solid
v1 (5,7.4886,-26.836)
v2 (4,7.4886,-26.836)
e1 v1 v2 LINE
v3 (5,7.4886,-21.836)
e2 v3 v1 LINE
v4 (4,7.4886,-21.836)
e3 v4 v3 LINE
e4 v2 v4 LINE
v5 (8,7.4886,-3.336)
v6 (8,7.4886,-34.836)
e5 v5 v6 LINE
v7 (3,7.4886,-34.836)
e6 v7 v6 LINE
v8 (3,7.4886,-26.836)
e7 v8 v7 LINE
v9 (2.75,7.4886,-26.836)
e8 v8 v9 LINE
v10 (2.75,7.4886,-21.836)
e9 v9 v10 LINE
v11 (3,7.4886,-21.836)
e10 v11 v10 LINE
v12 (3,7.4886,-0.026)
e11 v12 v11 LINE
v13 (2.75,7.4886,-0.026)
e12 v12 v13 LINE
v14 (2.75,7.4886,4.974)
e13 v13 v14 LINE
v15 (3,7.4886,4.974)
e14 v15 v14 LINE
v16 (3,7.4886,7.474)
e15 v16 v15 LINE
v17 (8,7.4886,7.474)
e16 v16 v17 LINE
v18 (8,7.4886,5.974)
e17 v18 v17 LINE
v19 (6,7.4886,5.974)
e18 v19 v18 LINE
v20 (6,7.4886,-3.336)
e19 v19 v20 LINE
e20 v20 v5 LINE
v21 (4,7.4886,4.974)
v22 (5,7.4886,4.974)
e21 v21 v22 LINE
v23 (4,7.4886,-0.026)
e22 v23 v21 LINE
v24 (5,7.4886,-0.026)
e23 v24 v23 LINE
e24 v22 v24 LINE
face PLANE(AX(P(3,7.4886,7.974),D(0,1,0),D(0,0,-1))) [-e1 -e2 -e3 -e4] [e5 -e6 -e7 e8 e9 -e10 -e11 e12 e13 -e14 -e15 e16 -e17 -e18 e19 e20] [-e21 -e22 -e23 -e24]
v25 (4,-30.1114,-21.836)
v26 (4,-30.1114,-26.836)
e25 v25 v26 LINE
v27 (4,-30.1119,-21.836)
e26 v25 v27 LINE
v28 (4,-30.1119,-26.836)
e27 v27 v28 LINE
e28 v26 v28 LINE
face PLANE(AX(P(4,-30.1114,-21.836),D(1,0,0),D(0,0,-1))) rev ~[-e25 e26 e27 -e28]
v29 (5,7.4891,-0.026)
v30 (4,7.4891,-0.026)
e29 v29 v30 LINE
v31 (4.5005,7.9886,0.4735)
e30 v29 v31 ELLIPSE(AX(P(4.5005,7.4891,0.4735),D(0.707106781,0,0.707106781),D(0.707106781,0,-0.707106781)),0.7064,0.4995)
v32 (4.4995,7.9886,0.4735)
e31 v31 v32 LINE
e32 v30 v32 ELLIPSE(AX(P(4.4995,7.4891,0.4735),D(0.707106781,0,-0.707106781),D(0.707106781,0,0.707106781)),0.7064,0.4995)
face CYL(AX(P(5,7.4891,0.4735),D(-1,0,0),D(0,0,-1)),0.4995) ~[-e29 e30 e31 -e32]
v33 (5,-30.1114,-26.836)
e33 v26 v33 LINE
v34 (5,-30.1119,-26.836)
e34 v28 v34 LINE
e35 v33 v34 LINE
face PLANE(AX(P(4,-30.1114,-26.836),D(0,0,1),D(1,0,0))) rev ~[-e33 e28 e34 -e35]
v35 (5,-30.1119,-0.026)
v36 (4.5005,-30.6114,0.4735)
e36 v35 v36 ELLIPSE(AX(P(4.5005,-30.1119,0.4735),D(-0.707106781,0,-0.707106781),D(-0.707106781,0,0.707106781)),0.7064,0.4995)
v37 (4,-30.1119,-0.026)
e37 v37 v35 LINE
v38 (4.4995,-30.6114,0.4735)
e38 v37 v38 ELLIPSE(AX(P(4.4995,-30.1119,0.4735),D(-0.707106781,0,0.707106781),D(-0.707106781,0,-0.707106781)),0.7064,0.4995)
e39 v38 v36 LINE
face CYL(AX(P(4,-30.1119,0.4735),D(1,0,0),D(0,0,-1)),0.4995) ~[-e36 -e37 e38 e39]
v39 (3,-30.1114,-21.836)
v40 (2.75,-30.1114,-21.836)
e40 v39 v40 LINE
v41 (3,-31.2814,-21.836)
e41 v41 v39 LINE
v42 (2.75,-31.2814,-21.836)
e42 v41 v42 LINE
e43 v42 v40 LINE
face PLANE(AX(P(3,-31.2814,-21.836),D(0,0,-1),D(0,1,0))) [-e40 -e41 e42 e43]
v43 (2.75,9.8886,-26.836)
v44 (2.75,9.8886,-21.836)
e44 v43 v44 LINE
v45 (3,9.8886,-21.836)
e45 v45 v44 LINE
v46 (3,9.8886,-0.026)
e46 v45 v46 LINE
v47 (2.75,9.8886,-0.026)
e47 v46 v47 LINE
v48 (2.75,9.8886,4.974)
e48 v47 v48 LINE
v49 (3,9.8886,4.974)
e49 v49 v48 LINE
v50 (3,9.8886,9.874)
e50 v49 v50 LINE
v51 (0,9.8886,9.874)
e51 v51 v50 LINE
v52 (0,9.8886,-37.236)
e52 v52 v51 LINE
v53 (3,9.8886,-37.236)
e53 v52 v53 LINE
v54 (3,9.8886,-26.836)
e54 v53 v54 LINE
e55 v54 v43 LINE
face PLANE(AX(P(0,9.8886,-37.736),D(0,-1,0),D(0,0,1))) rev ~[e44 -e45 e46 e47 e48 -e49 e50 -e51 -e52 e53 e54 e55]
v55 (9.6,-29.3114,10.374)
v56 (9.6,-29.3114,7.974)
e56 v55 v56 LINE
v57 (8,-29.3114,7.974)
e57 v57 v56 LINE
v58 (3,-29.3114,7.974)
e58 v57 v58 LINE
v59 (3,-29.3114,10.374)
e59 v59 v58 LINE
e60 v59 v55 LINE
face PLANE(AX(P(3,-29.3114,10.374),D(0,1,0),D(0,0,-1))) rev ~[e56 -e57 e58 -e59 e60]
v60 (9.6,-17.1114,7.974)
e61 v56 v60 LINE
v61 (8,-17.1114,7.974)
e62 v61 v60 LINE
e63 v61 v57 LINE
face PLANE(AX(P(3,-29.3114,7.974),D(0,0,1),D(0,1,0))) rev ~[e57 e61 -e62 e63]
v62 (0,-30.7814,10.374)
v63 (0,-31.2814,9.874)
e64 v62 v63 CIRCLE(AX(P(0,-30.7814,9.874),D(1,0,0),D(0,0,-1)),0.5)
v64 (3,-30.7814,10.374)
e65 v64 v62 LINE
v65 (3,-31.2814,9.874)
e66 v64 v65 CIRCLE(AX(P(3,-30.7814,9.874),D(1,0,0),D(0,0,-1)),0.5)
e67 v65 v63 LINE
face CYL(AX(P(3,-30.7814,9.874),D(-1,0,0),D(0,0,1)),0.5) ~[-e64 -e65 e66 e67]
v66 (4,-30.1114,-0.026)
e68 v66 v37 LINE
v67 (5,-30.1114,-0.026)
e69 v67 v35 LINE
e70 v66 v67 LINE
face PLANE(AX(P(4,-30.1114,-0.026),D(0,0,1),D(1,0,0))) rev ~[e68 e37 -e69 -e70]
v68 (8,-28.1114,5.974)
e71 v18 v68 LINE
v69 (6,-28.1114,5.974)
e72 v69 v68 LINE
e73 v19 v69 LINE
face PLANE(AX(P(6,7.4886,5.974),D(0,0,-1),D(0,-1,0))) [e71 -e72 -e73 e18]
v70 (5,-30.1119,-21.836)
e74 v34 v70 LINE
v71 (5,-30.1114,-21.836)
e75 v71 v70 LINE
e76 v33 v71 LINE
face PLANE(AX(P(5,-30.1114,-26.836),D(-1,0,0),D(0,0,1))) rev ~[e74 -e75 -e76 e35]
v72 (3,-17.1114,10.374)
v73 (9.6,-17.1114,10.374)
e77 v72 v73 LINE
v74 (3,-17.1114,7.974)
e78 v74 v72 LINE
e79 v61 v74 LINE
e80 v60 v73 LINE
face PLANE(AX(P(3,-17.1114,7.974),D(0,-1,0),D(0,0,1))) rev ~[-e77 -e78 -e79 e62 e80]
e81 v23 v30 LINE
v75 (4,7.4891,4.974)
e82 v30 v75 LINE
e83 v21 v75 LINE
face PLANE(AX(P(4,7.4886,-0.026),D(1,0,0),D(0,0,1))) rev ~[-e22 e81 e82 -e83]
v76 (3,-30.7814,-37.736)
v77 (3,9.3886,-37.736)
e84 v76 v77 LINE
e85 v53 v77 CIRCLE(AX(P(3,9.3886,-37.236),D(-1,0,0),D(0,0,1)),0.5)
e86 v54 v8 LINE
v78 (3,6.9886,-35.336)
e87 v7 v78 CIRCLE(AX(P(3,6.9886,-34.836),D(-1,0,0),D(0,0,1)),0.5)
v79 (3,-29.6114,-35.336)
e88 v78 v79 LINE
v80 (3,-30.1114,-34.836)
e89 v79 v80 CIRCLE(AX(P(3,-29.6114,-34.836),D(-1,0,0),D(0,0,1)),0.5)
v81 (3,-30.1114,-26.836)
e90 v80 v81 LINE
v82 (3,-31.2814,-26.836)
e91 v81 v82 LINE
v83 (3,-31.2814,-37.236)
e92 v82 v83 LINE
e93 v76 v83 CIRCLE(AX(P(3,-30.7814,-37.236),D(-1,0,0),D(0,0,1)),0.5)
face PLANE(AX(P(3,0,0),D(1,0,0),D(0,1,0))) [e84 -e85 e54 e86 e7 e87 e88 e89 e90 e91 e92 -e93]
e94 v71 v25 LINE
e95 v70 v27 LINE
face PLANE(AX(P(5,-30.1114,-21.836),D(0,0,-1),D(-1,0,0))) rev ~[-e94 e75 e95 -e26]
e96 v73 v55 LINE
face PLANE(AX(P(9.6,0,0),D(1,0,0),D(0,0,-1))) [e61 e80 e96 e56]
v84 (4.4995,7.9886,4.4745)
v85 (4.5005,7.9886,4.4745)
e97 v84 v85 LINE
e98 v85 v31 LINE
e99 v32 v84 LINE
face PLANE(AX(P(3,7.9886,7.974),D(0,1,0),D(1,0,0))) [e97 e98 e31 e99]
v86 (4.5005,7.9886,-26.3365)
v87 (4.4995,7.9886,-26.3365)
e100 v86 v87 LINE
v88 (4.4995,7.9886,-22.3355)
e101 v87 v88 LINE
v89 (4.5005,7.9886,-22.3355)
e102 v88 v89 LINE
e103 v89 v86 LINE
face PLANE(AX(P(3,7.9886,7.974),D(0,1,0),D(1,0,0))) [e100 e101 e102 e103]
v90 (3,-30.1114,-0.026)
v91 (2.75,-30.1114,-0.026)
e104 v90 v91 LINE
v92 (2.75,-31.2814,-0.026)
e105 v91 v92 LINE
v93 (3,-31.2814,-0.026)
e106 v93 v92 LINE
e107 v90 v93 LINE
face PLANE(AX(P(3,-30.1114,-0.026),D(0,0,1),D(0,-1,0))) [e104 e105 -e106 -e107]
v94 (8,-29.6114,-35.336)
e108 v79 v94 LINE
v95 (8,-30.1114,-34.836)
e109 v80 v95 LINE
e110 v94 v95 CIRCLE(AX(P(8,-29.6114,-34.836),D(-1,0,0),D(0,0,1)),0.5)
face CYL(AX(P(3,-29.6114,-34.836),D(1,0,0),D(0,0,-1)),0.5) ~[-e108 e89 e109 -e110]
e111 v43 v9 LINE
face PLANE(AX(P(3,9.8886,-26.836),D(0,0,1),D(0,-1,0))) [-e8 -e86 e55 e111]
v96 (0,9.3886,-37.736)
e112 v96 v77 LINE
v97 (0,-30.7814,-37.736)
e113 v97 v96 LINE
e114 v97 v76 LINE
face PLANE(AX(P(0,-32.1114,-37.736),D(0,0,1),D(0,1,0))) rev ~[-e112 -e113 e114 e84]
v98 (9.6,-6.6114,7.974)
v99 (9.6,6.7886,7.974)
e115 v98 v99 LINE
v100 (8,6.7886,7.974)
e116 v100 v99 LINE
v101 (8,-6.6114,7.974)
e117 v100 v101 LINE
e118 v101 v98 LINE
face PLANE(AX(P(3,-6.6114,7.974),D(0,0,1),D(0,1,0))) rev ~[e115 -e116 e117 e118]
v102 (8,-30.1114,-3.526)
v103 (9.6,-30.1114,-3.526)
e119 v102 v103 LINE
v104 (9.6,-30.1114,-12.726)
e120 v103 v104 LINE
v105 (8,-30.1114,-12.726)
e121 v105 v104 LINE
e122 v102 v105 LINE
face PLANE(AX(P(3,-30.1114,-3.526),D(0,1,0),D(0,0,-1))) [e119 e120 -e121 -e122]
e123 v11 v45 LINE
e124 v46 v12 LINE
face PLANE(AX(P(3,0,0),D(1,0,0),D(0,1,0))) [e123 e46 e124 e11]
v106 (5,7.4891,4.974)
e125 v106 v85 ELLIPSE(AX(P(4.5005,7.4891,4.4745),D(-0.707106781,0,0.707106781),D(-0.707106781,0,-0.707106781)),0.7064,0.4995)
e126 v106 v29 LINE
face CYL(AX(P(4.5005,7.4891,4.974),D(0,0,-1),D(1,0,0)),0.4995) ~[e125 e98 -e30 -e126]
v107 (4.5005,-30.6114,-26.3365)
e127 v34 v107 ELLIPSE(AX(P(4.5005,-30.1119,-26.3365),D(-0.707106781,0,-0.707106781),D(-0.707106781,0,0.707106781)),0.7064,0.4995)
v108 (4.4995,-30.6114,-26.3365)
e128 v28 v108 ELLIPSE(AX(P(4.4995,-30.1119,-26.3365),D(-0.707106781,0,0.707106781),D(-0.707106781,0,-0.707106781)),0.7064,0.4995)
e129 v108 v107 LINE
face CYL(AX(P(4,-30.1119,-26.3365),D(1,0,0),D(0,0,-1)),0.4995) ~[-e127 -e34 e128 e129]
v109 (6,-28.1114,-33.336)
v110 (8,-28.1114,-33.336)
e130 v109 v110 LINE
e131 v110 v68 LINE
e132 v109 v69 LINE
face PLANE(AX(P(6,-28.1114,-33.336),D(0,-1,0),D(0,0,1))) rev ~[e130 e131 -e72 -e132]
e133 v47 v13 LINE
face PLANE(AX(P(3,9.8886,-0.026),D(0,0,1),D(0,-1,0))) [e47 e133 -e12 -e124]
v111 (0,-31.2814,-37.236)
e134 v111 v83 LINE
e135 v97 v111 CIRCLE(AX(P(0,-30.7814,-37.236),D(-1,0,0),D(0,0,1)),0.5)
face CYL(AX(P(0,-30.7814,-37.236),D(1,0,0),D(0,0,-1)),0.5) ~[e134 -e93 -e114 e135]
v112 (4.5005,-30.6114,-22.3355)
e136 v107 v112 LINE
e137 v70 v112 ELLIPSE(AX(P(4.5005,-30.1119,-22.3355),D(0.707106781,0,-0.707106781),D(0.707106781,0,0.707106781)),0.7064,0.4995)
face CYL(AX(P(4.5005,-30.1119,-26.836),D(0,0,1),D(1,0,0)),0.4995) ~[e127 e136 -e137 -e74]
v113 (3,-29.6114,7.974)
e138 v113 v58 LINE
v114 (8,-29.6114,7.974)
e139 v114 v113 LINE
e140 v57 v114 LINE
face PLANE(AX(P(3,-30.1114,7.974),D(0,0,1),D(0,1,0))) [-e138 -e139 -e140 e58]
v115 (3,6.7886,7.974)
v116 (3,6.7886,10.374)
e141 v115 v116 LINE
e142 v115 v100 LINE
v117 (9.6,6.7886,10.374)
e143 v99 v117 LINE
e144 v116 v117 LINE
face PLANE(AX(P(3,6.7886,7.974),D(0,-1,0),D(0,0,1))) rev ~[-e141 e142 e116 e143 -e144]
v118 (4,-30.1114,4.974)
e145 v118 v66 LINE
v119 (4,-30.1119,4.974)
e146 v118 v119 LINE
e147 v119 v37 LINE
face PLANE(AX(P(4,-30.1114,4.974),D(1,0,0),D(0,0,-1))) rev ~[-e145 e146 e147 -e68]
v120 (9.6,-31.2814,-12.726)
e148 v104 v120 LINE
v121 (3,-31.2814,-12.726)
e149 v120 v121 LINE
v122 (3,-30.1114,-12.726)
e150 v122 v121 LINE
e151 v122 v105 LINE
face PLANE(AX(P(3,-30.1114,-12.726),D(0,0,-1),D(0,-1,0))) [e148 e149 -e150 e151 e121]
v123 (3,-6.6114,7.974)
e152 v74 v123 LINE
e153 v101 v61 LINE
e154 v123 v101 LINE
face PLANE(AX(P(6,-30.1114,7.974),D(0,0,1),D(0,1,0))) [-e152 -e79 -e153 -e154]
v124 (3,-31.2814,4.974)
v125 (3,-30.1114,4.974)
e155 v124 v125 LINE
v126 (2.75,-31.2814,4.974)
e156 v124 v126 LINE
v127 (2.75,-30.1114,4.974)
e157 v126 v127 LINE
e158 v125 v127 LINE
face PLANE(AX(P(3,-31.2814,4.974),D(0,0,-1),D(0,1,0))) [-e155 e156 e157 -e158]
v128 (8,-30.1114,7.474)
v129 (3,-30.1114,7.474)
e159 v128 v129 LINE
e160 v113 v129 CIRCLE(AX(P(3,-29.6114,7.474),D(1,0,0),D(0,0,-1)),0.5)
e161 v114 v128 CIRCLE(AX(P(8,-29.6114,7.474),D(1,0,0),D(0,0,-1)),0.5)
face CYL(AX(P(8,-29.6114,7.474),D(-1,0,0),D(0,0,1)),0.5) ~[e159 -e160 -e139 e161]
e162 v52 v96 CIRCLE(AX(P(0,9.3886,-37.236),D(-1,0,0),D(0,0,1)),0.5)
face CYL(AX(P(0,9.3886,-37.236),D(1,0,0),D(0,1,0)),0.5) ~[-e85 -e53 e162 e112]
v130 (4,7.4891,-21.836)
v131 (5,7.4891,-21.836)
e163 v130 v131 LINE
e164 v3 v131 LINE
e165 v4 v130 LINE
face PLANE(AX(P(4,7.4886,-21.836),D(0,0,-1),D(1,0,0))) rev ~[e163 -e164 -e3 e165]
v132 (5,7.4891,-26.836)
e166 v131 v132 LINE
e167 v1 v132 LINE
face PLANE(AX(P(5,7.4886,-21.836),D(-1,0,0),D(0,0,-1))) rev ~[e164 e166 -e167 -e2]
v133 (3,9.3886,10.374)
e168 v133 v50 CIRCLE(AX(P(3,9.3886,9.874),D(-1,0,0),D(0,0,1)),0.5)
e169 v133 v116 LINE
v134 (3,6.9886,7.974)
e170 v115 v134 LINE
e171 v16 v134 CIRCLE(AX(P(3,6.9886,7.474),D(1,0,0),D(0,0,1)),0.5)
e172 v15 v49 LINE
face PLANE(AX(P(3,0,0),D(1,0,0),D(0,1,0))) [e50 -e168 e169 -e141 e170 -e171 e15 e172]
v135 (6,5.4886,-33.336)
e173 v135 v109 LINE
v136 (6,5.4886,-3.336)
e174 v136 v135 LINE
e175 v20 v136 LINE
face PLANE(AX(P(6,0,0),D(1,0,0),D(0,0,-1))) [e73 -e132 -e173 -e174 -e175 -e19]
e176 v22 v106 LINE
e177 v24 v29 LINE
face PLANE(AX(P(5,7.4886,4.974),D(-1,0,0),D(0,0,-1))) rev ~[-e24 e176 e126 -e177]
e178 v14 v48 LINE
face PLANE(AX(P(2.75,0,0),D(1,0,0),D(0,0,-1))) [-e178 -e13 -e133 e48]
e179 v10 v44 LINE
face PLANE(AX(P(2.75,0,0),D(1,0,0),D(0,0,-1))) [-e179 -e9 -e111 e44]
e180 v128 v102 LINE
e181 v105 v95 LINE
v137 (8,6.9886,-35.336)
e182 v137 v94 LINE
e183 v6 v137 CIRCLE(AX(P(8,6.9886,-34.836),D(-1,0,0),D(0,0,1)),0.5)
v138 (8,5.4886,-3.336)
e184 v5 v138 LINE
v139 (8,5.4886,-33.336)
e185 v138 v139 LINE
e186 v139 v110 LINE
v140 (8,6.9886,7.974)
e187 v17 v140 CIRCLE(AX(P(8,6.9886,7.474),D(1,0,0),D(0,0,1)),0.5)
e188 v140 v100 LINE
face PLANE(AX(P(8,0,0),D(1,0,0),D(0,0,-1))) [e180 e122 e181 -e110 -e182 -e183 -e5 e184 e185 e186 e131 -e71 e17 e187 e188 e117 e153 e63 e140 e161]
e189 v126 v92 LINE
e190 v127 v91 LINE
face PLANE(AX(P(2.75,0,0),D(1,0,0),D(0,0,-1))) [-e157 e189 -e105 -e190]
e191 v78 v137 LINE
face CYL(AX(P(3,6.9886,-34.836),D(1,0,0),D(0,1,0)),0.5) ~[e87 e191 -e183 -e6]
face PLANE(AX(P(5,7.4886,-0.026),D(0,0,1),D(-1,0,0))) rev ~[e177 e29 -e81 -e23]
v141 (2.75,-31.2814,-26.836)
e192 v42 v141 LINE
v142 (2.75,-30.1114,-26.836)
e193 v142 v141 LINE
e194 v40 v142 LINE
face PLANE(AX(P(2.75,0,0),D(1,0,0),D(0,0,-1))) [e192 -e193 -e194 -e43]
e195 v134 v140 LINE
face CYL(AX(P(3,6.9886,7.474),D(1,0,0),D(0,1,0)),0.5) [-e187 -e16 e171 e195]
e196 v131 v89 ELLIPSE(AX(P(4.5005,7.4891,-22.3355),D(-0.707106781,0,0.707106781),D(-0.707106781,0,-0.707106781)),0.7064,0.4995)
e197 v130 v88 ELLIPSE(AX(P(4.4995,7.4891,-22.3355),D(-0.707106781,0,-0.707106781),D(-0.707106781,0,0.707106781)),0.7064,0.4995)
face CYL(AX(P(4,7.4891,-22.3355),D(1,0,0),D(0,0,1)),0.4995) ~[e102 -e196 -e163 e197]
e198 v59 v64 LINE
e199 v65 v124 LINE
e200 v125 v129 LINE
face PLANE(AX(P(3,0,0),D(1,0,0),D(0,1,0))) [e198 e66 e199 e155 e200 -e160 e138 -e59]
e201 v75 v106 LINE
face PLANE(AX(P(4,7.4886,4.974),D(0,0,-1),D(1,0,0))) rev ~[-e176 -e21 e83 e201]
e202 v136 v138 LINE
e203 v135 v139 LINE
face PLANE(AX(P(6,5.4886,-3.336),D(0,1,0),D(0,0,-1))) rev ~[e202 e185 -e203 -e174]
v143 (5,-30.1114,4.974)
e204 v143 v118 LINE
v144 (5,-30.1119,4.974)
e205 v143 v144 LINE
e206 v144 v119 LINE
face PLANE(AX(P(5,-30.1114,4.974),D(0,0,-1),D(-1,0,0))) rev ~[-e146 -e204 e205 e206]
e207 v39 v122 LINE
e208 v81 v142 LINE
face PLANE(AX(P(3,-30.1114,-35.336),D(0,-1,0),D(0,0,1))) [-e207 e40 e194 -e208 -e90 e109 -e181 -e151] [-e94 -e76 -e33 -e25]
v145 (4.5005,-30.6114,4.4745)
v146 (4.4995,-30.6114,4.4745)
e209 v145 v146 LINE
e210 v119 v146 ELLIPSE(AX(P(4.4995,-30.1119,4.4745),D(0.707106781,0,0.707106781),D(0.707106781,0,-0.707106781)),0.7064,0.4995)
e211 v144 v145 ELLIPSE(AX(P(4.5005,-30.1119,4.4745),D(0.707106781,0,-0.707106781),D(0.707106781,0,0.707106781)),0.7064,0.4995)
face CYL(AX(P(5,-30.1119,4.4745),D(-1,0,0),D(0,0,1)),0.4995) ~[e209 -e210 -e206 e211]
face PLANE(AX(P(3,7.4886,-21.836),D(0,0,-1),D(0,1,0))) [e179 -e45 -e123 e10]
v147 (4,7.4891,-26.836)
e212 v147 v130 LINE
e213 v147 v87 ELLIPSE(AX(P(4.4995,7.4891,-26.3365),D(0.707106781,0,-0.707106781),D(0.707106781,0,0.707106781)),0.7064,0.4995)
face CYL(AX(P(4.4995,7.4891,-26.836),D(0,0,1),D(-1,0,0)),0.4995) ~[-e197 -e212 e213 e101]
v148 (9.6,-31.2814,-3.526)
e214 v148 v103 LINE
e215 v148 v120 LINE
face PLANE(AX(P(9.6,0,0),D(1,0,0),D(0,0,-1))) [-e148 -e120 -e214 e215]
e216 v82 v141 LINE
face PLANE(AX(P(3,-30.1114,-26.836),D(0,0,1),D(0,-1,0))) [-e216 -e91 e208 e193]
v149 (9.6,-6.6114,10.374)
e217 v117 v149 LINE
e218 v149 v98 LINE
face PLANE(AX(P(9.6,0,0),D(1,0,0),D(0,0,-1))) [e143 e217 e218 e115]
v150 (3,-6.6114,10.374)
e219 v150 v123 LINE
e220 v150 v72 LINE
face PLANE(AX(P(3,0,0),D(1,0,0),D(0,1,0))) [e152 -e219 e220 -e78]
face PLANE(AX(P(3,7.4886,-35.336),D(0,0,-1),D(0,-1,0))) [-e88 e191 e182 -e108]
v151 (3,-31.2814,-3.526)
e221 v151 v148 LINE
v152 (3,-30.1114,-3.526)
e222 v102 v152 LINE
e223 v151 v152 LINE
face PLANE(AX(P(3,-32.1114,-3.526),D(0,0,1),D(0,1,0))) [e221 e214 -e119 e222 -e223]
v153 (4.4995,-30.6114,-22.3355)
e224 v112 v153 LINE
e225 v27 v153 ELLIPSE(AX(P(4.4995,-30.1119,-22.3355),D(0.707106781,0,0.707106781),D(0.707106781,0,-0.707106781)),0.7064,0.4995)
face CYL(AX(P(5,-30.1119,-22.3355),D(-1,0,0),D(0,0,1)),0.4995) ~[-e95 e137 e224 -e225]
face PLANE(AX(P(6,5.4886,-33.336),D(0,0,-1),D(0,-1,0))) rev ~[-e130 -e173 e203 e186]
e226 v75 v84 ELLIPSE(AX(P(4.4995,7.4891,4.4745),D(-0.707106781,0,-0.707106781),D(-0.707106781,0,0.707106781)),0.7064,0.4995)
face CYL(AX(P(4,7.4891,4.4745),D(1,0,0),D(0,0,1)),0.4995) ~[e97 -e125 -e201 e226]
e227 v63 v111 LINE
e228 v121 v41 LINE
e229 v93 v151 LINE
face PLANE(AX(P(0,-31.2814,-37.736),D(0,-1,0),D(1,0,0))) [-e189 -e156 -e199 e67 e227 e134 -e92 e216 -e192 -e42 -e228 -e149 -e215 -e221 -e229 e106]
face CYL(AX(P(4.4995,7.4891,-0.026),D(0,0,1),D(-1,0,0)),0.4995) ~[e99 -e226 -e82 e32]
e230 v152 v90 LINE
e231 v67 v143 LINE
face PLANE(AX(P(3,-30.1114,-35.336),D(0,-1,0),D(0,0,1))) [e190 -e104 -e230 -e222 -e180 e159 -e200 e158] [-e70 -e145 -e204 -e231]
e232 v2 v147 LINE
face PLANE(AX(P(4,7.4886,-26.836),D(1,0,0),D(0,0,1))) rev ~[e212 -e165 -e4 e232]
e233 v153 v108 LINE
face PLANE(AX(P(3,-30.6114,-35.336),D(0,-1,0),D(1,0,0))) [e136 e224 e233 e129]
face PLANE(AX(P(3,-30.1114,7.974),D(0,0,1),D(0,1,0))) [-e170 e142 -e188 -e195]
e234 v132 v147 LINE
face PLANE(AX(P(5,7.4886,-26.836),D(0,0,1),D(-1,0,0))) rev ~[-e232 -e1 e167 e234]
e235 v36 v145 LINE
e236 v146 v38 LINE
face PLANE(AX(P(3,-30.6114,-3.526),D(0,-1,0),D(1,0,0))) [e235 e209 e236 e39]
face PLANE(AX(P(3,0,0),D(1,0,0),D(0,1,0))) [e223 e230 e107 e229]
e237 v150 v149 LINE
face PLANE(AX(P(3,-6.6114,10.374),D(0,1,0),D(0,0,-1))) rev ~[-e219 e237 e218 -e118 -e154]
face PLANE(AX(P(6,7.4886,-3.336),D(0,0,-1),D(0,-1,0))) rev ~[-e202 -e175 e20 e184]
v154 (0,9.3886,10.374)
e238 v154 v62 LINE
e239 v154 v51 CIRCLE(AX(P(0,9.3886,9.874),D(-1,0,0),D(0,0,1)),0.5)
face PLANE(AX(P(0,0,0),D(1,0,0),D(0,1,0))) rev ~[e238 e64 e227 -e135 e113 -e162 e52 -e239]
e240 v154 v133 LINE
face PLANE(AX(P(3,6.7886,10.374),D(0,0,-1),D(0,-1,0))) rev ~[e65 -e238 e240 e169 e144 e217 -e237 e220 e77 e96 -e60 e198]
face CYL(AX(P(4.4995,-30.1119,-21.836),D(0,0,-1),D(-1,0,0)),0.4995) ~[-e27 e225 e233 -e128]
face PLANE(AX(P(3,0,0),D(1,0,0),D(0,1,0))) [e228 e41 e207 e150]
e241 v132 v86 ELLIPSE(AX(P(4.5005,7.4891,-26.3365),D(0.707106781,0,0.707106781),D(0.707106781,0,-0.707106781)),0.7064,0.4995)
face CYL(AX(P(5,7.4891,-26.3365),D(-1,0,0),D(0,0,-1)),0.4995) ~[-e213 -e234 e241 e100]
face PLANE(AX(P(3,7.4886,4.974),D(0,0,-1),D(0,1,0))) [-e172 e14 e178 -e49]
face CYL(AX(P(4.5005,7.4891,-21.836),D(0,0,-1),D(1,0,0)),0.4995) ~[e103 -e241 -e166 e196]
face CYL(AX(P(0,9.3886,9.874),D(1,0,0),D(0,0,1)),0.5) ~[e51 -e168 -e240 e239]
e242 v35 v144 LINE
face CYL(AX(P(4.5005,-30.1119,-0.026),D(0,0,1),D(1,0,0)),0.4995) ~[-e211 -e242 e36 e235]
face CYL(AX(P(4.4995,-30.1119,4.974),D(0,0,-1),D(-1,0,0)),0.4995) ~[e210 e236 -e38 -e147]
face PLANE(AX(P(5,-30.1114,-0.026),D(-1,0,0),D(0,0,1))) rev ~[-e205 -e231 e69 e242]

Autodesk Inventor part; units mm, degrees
ref_plane "YZ Plane" through (0, 0, 0) normal (1, 0, 0) x (0, 1, 0)
ref_plane "XZ Plane" through (0, 0, 0) normal (0, 1, 0) x (-1, 0, 0)
ref_plane "XY Plane" through (0, 0, 0) normal (0, 0, 1) x (1, 0, 0)
sketch "Sketch1" plane through (0, 0, 0) normal (1, 0, 0) x (0, 1, 0)
  line L0 (9.8886, 10.374) -> (-32.1114, 10.374)
  line L1 (-32.1114, 10.374) -> (-32.1114, -37.736)
  line L2 (-32.1114, -37.736) -> (9.8886, -37.736)
  line L3 (9.8886, -37.736) -> (9.8886, 10.374)
  point P0 (0, 0)
  dimension "d0" = 42
  dimension "d1" = 48.11
extrude "Extrusion1" add sketch "Sketch1" along normal blind 3
sketch "Sketch2" plane through (3, 0, 0) normal (1, 0, 0) x (0, 0, -1)
  line L0 (-7.974, 7.4886) -> (35.336, 7.4886)
  line L1 (35.336, 7.4886) -> (35.336, -30.1114)
  line L2 (35.336, -30.1114) -> (-7.974, -30.1114)
  line L3 (-7.974, -30.1114) -> (-7.974, 7.4886)
  line L4 (37.736, 9.8886) -> (-10.374, 9.8886) projected
  line L5 (-10.374, 9.8886) -> (-10.374, -32.1114) projected
  line L6 (-10.374, -32.1114) -> (37.736, -32.1114) projected
  point P0 (0, 0)
  dimension "d4" = 43.31
  dimension "d6" = 2.4
  dimension "d7" = 2.4
  dimension "d20" = 2
extrude "Extrusion2" add sketch "Sketch2" along normal blind 3
sketch "Sketch3" plane through (3, 0, 0) normal (1, 0, 0) x (0, 0, -1)
  line L0 (-10.374, 9.8886) -> (-10.374, -32.1114) projected
  line L1 (-7.974, -30.1114) -> (-7.974, 7.4886) projected
  line L2 (-10.374, -29.3114) -> (-7.974, -29.3114)
  line L3 (-7.974, -29.3114) -> (-7.974, -17.1114)
  line L4 (-7.974, -17.1114) -> (-10.374, -17.1114)
  line L5 (-10.374, -17.1114) -> (-10.374, -29.3114)
  line L6 (-10.374, -32.1114) -> (37.736, -32.1114) projected
  point P0 (0, 0)
  point P1 (-10.374, 9.3886)
  point P2 (-10.374, -31.6114)
  point P3 (-7.974, -29.6114)
  point P4 (-7.974, 6.9886)
  point P5 (-9.874, -32.1114)
  point P6 (37.236, -32.1114)
  point P7 (-7.974, -29.3114)
  dimension "d12" = 12.2
  dimension "d13" = 2.8
extrude "PowerSocket" add sketch "Sketch3" along normal blind 6.6
sketch "Sketch5" plane through (3, 0, 0) normal (1, 0, 0) x (0, 0, -1)
  line L0 (-10.374, 9.8886) -> (-10.374, -17.1114) projected
  line L1 (-7.974, -17.1114) -> (-7.974, 7.4886) projected
  line L2 (-10.374, -6.6114) -> (-7.974, -6.6114)
  line L3 (-7.974, -6.6114) -> (-7.974, 6.7886)
  line L4 (-7.974, 6.7886) -> (-10.374, 6.7886)
  line L5 (-10.374, 6.7886) -> (-10.374, -6.6114)
  line L6 (-7.974, -17.1114) -> (-10.374, -17.1114) projected
  line L7 (35.336, 7.4886) -> (-7.974, 7.4886) projected
  line L8 (37.736, 9.8886) -> (-10.374, 9.8886) projected
  point P0 (0, 0)
  point P1 (-10.374, 9.3886)
  point P2 (-10.374, 6.7886)
  point P3 (-7.974, -6.6114)
  point P4 (37.236, 9.8886)
  point P5 (-9.874, 9.8886)
  dimension "d21" = 13.4
  dimension "d75" = 3.1
extrude "RJ-12" add sketch "Sketch5" along normal blind 6.6 contours L4 L1 L2 L0
sketch "Sketch6" plane through (3, 0, 0) normal (1, 0, 0) x (0, 0, -1)
  line L0 (-10.374, -32.1114) -> (37.736, -32.1114) projected
  line L1 (-7.974, -30.1114) -> (35.336, -30.1114) projected
  line L2 (12.726, -32.1114) -> (3.526, -32.1114)
  line L3 (3.526, -32.1114) -> (3.526, -30.1114)
  line L4 (3.526, -30.1114) -> (12.726, -30.1114)
  line L5 (12.726, -30.1114) -> (12.726, -32.1114)
  line L6 (-10.374, -29.3114) -> (-10.374, -32.1114) projected
  point P0 (0, 0)
  point P1 (-9.874, -32.1114)
  point P2 (37.236, -32.1114)
  point P3 (-10.374, -31.6114)
  dimension "d25" = 9.2
  dimension "d26" = 13.9
extrude "USB-C" add sketch "Sketch6" along normal blind 6.6
sketch "Sketch7" plane through (6, 0, 0) normal (1, 0, 0) x (0, 0, -1)
  line L0 (35.336, 7.4886) -> (-7.974, 7.4886) projected
  line L1 (-7.974, 7.4886) -> (-5.974, 7.4886)
  line L2 (-5.974, 7.4886) -> (-5.974, -30.1114)
  line L3 (-7.974, -30.1114) -> (3.526, -30.1114) projected
  line L4 (-5.974, -30.1114) -> (-7.974, -30.1114)
  line L5 (-10.374, -29.3114) -> (-10.374, -32.1114) projected
  line L6 (-7.974, 7.4886) -> (-7.974, -17.1114) projected
  line L7 (-7.974, -30.1114) -> (-7.974, 7.4886)
  line L8 (35.336, -30.1114) -> (12.726, -30.1114) projected
  line L9 (-5.974, -30.1114) -> (35.336, -30.1114)
  line L10 (35.336, -30.1114) -> (35.336, -28.1114)
  line L11 (35.336, 7.4886) -> (35.336, -30.1114) projected
  line L12 (35.336, -28.1114) -> (-5.974, -28.1114)
  line L13 (35.336, -28.1114) -> (35.336, 7.4886)
  line L14 (35.336, 7.4886) -> (33.336, 7.4886)
  line L15 (33.336, 7.4886) -> (33.336, -28.1114)
  line L16 (33.336, 7.4886) -> (3.336, 7.4886)
  line L17 (3.336, 7.4886) -> (3.336, 5.4886)
  line L18 (3.336, 5.4886) -> (33.336, 5.4886)
  point P0 (0, 0)
  point P1 (-10.374, -31.6114)
  point P2 (-7.974, 6.7886)
  point P3 (-7.974, 6.6886)
  dimension "d29" = 2
  dimension "d30" = 2
  dimension "d31" = 2
  dimension "d32" = 2
  dimension "d33" = 30
  dimension "d34" = 2
extrude "Extrusion7" add sketch "Sketch7" along normal blind 2 contours L11 L12 L15 L0 | L15 L18 L17 L0 | L10 L8 L9 L3 L2 L12 | L2 L3 L7 L6 L0
sketch "Sketch8" plane through (3, -30.1114, -3.526) normal (0, -1, 0) x (1, 0, 0)
  line L0 (2, 8.5) -> (1, 8.5)
  line L1 (1, 8.5) -> (1, 3.5)
  line L2 (1, 3.5) -> (2, 3.5)
  line L3 (2, 3.5) -> (2, 8.5)
  line L4 (0, 11.5) -> (5, 11.5) projected
  line L5 (5, 11.5) -> (5, 0) projected
  line L6 (0, 13.9) -> (0, 0) projected
  point P0 (-3, 3.526)
  point P1 (2, 6)
  point P2 (0, 13.4)
  dimension "d37" = 1
  dimension "d38" = 5
  dimension "d39" = 5.5
  dimension "d60" = 1
extrude "Extrusion8" add sketch "Sketch8" along normal blind 0.5
fillet "Fillet3" radius 0.5 4 edges at (5, -30.6114, 2.474) (4, -30.6114, 2.474) (4.5, -30.6114, 4.974) (4.5, -30.6114, -0.026)
sketch "Sketch9" plane through (3, -30.1114, -35.336) normal (0, -1, 0) x (1, 0, 0)
  line L0 (2, 13.5) -> (1, 13.5)
  line L1 (1, 13.5) -> (1, 8.5)
  line L2 (1, 8.5) -> (2, 8.5)
  line L3 (2, 8.5) -> (2, 13.5)
  line L4 (5, 22.61) -> (5, 0) projected
  line L5 (0, 0) -> (5, 0) projected
  line L6 (0, 22.61) -> (0, -2.4) projected
  point P0 (-3, 35.336)
  point P1 (2, 11)
  point P2 (0, -1.9)
  dimension "d44" = 1
  dimension "d45" = 5
  dimension "d47" = 11
  dimension "d59" = 1
extrude "Extrusion9" add sketch "Sketch9" along normal blind 0.5
fillet "Fillet4" radius 0.5 4 edges at (5, -30.6114, -24.336) (4, -30.6114, -24.336) (4.5, -30.6114, -21.836) (4.5, -30.6114, -26.836)
sketch "Sketch10" plane through (3, 7.4886, 7.974) normal (0, 1, 0) x (1, 0, 0)
  line L0 (2, 34.81) -> (1, 34.81)
  line L1 (1, 34.81) -> (1, 29.81)
  line L2 (1, 29.81) -> (2, 29.81)
  line L3 (2, 29.81) -> (2, 34.81)
  line L4 (5, 43.31) -> (5, 11.31) projected
  line L5 (0, 43.31) -> (5, 43.31) projected
  line L6 (0, 45.71) -> (0, -2.4) projected
  point P0 (-3, 7.974)
  point P1 (2, 32.31)
  point P2 (0, 45.21)
  point P3 (0, -1.9)
  dimension "d51" = 1
  dimension "d52" = 5
  dimension "d54" = 11
  dimension "d58" = 1
extrude "Extrusion10" add sketch "Sketch10" along normal blind 0.5
fillet "Fillet5" radius 0.5 4 edges at (5, 7.9886, -24.336) (4, 7.9886, -24.336) (4.5, 7.9886, -26.836) (4.5, 7.9886, -21.836)
sketch "Sketch11" plane through (3, 7.4886, 7.974) normal (0, 1, 0) x (1, 0, 0)
  line L0 (2, 8) -> (1, 8)
  line L1 (1, 8) -> (1, 3)
  line L2 (1, 3) -> (2, 3)
  line L3 (2, 3) -> (2, 8)
  line L4 (0, 45.71) -> (0, -2.4) projected
  line L5 (0, 0) -> (5, 0) projected
  point P0 (-3, 7.974)
  point P1 (0, 45.21)
  point P2 (0, -1.9)
  point P3 (1, 5.5)
  dimension "d61" = 1
  dimension "d62" = 5
  dimension "d63" = 1
  dimension "d64" = 5.5
extrude "Extrusion11" add sketch "Sketch11" along normal blind 0.5
fillet "Fillet6" radius 0.5 4 edges at (5, 7.9886, 2.474) (4, 7.9886, 2.474) (4.5, 7.9886, 4.974) (4.5, 7.9886, -0.026)
fillet "Fillet7" radius 0.5 4 edges at (5.5, -30.1114, -35.336) (5.5, 7.4886, -35.336) (5.5, 7.4886, 7.974) (5.5, -30.1114, 7.974)
sketch "Sketch14" plane through (0, -32.1114, -37.736) normal (0, -1, 0) x (1, 0, 0)
  line L0 (12.0388, 48.7944) -> (-2.0784, 48.7944)
  line L1 (-2.0784, 48.7944) -> (-2.0784, -2.1843)
  line L2 (-2.0784, -2.1843) -> (12.0388, -2.1843)
  line L3 (12.0388, -2.1843) -> (12.0388, 48.7944)
  point P0 (0, 37.736)
extrude "TrimmWall" cut sketch "Sketch14" against normal blind 0.83
fillet "Fillet8" radius 0.5 4 edges at (1.5, -31.2814, -37.736) (1.5, 9.8886, -37.736) (1.5, -31.2814, 10.374) (1.5, 9.8886, 10.374)
sketch "Sketch15" plane through (3, 0, 0) normal (1, 0, 0) x (0, 0, -1)
  arc A0 (-4.974, -30.1114) -> (-4.474, -30.6114) centre (-4.474, -30.1114) ccw projected
  line L0 (-9.874, -31.2814) -> (3.526, -31.2814) projected
  line L1 (-4.974, -30.1114) -> (0.026, -30.1114)
  line L2 (0.026, -30.1114) -> (0.026, -31.2814)
  line L3 (0.026, -31.2814) -> (-4.974, -31.2814)
  line L4 (-4.974, -31.2814) -> (-4.974, -30.1114)
  arc A1 (21.836, -30.1114) -> (22.336, -30.6114) centre (22.336, -30.1114) ccw projected
  line L5 (12.726, -31.2814) -> (37.236, -31.2814) projected
  line L6 (21.836, -30.1114) -> (26.836, -30.1114)
  line L7 (26.836, -30.1114) -> (26.836, -31.2814)
  line L8 (26.836, -31.2814) -> (21.836, -31.2814)
  line L9 (21.836, -31.2814) -> (21.836, -30.1114)
  point P0 (0, 0)
  dimension "d79" = 5
  dimension "d80" = 5
extrude "Oeffnungskerben1" cut sketch "Sketch15" against normal blind 0.25
sketch "Sketch16" plane through (3, 0, 0) normal (1, 0, 0) x (0, 0, -1)
  arc A0 (26.836, 7.4886) -> (26.336, 7.9886) centre (26.336, 7.4886) ccw projected
  line L0 (37.236, 9.8886) -> (-9.874, 9.8886) projected
  line L1 (26.836, 7.4886) -> (21.836, 7.4886)
  line L2 (21.836, 7.4886) -> (21.836, 9.8886)
  line L3 (21.836, 9.8886) -> (26.836, 9.8886)
  line L4 (26.836, 9.8886) -> (26.836, 7.4886)
  arc A1 (0.026, 7.4886) -> (-0.474, 7.9886) centre (-0.474, 7.4886) ccw projected
  line L5 (0.026, 7.4886) -> (-4.974, 7.4886)
  line L6 (-4.974, 7.4886) -> (-4.974, 9.8886)
  line L7 (-4.974, 9.8886) -> (0.026, 9.8886)
  line L8 (0.026, 9.8886) -> (0.026, 7.4886)
  point P0 (0, 0)
  dimension "d83" = 5
  dimension "d84" = 5
extrude "Oeffnungskerben2" cut sketch "Sketch16" against normal blind 0.25
properties part number "Enclosure_Bottom"
